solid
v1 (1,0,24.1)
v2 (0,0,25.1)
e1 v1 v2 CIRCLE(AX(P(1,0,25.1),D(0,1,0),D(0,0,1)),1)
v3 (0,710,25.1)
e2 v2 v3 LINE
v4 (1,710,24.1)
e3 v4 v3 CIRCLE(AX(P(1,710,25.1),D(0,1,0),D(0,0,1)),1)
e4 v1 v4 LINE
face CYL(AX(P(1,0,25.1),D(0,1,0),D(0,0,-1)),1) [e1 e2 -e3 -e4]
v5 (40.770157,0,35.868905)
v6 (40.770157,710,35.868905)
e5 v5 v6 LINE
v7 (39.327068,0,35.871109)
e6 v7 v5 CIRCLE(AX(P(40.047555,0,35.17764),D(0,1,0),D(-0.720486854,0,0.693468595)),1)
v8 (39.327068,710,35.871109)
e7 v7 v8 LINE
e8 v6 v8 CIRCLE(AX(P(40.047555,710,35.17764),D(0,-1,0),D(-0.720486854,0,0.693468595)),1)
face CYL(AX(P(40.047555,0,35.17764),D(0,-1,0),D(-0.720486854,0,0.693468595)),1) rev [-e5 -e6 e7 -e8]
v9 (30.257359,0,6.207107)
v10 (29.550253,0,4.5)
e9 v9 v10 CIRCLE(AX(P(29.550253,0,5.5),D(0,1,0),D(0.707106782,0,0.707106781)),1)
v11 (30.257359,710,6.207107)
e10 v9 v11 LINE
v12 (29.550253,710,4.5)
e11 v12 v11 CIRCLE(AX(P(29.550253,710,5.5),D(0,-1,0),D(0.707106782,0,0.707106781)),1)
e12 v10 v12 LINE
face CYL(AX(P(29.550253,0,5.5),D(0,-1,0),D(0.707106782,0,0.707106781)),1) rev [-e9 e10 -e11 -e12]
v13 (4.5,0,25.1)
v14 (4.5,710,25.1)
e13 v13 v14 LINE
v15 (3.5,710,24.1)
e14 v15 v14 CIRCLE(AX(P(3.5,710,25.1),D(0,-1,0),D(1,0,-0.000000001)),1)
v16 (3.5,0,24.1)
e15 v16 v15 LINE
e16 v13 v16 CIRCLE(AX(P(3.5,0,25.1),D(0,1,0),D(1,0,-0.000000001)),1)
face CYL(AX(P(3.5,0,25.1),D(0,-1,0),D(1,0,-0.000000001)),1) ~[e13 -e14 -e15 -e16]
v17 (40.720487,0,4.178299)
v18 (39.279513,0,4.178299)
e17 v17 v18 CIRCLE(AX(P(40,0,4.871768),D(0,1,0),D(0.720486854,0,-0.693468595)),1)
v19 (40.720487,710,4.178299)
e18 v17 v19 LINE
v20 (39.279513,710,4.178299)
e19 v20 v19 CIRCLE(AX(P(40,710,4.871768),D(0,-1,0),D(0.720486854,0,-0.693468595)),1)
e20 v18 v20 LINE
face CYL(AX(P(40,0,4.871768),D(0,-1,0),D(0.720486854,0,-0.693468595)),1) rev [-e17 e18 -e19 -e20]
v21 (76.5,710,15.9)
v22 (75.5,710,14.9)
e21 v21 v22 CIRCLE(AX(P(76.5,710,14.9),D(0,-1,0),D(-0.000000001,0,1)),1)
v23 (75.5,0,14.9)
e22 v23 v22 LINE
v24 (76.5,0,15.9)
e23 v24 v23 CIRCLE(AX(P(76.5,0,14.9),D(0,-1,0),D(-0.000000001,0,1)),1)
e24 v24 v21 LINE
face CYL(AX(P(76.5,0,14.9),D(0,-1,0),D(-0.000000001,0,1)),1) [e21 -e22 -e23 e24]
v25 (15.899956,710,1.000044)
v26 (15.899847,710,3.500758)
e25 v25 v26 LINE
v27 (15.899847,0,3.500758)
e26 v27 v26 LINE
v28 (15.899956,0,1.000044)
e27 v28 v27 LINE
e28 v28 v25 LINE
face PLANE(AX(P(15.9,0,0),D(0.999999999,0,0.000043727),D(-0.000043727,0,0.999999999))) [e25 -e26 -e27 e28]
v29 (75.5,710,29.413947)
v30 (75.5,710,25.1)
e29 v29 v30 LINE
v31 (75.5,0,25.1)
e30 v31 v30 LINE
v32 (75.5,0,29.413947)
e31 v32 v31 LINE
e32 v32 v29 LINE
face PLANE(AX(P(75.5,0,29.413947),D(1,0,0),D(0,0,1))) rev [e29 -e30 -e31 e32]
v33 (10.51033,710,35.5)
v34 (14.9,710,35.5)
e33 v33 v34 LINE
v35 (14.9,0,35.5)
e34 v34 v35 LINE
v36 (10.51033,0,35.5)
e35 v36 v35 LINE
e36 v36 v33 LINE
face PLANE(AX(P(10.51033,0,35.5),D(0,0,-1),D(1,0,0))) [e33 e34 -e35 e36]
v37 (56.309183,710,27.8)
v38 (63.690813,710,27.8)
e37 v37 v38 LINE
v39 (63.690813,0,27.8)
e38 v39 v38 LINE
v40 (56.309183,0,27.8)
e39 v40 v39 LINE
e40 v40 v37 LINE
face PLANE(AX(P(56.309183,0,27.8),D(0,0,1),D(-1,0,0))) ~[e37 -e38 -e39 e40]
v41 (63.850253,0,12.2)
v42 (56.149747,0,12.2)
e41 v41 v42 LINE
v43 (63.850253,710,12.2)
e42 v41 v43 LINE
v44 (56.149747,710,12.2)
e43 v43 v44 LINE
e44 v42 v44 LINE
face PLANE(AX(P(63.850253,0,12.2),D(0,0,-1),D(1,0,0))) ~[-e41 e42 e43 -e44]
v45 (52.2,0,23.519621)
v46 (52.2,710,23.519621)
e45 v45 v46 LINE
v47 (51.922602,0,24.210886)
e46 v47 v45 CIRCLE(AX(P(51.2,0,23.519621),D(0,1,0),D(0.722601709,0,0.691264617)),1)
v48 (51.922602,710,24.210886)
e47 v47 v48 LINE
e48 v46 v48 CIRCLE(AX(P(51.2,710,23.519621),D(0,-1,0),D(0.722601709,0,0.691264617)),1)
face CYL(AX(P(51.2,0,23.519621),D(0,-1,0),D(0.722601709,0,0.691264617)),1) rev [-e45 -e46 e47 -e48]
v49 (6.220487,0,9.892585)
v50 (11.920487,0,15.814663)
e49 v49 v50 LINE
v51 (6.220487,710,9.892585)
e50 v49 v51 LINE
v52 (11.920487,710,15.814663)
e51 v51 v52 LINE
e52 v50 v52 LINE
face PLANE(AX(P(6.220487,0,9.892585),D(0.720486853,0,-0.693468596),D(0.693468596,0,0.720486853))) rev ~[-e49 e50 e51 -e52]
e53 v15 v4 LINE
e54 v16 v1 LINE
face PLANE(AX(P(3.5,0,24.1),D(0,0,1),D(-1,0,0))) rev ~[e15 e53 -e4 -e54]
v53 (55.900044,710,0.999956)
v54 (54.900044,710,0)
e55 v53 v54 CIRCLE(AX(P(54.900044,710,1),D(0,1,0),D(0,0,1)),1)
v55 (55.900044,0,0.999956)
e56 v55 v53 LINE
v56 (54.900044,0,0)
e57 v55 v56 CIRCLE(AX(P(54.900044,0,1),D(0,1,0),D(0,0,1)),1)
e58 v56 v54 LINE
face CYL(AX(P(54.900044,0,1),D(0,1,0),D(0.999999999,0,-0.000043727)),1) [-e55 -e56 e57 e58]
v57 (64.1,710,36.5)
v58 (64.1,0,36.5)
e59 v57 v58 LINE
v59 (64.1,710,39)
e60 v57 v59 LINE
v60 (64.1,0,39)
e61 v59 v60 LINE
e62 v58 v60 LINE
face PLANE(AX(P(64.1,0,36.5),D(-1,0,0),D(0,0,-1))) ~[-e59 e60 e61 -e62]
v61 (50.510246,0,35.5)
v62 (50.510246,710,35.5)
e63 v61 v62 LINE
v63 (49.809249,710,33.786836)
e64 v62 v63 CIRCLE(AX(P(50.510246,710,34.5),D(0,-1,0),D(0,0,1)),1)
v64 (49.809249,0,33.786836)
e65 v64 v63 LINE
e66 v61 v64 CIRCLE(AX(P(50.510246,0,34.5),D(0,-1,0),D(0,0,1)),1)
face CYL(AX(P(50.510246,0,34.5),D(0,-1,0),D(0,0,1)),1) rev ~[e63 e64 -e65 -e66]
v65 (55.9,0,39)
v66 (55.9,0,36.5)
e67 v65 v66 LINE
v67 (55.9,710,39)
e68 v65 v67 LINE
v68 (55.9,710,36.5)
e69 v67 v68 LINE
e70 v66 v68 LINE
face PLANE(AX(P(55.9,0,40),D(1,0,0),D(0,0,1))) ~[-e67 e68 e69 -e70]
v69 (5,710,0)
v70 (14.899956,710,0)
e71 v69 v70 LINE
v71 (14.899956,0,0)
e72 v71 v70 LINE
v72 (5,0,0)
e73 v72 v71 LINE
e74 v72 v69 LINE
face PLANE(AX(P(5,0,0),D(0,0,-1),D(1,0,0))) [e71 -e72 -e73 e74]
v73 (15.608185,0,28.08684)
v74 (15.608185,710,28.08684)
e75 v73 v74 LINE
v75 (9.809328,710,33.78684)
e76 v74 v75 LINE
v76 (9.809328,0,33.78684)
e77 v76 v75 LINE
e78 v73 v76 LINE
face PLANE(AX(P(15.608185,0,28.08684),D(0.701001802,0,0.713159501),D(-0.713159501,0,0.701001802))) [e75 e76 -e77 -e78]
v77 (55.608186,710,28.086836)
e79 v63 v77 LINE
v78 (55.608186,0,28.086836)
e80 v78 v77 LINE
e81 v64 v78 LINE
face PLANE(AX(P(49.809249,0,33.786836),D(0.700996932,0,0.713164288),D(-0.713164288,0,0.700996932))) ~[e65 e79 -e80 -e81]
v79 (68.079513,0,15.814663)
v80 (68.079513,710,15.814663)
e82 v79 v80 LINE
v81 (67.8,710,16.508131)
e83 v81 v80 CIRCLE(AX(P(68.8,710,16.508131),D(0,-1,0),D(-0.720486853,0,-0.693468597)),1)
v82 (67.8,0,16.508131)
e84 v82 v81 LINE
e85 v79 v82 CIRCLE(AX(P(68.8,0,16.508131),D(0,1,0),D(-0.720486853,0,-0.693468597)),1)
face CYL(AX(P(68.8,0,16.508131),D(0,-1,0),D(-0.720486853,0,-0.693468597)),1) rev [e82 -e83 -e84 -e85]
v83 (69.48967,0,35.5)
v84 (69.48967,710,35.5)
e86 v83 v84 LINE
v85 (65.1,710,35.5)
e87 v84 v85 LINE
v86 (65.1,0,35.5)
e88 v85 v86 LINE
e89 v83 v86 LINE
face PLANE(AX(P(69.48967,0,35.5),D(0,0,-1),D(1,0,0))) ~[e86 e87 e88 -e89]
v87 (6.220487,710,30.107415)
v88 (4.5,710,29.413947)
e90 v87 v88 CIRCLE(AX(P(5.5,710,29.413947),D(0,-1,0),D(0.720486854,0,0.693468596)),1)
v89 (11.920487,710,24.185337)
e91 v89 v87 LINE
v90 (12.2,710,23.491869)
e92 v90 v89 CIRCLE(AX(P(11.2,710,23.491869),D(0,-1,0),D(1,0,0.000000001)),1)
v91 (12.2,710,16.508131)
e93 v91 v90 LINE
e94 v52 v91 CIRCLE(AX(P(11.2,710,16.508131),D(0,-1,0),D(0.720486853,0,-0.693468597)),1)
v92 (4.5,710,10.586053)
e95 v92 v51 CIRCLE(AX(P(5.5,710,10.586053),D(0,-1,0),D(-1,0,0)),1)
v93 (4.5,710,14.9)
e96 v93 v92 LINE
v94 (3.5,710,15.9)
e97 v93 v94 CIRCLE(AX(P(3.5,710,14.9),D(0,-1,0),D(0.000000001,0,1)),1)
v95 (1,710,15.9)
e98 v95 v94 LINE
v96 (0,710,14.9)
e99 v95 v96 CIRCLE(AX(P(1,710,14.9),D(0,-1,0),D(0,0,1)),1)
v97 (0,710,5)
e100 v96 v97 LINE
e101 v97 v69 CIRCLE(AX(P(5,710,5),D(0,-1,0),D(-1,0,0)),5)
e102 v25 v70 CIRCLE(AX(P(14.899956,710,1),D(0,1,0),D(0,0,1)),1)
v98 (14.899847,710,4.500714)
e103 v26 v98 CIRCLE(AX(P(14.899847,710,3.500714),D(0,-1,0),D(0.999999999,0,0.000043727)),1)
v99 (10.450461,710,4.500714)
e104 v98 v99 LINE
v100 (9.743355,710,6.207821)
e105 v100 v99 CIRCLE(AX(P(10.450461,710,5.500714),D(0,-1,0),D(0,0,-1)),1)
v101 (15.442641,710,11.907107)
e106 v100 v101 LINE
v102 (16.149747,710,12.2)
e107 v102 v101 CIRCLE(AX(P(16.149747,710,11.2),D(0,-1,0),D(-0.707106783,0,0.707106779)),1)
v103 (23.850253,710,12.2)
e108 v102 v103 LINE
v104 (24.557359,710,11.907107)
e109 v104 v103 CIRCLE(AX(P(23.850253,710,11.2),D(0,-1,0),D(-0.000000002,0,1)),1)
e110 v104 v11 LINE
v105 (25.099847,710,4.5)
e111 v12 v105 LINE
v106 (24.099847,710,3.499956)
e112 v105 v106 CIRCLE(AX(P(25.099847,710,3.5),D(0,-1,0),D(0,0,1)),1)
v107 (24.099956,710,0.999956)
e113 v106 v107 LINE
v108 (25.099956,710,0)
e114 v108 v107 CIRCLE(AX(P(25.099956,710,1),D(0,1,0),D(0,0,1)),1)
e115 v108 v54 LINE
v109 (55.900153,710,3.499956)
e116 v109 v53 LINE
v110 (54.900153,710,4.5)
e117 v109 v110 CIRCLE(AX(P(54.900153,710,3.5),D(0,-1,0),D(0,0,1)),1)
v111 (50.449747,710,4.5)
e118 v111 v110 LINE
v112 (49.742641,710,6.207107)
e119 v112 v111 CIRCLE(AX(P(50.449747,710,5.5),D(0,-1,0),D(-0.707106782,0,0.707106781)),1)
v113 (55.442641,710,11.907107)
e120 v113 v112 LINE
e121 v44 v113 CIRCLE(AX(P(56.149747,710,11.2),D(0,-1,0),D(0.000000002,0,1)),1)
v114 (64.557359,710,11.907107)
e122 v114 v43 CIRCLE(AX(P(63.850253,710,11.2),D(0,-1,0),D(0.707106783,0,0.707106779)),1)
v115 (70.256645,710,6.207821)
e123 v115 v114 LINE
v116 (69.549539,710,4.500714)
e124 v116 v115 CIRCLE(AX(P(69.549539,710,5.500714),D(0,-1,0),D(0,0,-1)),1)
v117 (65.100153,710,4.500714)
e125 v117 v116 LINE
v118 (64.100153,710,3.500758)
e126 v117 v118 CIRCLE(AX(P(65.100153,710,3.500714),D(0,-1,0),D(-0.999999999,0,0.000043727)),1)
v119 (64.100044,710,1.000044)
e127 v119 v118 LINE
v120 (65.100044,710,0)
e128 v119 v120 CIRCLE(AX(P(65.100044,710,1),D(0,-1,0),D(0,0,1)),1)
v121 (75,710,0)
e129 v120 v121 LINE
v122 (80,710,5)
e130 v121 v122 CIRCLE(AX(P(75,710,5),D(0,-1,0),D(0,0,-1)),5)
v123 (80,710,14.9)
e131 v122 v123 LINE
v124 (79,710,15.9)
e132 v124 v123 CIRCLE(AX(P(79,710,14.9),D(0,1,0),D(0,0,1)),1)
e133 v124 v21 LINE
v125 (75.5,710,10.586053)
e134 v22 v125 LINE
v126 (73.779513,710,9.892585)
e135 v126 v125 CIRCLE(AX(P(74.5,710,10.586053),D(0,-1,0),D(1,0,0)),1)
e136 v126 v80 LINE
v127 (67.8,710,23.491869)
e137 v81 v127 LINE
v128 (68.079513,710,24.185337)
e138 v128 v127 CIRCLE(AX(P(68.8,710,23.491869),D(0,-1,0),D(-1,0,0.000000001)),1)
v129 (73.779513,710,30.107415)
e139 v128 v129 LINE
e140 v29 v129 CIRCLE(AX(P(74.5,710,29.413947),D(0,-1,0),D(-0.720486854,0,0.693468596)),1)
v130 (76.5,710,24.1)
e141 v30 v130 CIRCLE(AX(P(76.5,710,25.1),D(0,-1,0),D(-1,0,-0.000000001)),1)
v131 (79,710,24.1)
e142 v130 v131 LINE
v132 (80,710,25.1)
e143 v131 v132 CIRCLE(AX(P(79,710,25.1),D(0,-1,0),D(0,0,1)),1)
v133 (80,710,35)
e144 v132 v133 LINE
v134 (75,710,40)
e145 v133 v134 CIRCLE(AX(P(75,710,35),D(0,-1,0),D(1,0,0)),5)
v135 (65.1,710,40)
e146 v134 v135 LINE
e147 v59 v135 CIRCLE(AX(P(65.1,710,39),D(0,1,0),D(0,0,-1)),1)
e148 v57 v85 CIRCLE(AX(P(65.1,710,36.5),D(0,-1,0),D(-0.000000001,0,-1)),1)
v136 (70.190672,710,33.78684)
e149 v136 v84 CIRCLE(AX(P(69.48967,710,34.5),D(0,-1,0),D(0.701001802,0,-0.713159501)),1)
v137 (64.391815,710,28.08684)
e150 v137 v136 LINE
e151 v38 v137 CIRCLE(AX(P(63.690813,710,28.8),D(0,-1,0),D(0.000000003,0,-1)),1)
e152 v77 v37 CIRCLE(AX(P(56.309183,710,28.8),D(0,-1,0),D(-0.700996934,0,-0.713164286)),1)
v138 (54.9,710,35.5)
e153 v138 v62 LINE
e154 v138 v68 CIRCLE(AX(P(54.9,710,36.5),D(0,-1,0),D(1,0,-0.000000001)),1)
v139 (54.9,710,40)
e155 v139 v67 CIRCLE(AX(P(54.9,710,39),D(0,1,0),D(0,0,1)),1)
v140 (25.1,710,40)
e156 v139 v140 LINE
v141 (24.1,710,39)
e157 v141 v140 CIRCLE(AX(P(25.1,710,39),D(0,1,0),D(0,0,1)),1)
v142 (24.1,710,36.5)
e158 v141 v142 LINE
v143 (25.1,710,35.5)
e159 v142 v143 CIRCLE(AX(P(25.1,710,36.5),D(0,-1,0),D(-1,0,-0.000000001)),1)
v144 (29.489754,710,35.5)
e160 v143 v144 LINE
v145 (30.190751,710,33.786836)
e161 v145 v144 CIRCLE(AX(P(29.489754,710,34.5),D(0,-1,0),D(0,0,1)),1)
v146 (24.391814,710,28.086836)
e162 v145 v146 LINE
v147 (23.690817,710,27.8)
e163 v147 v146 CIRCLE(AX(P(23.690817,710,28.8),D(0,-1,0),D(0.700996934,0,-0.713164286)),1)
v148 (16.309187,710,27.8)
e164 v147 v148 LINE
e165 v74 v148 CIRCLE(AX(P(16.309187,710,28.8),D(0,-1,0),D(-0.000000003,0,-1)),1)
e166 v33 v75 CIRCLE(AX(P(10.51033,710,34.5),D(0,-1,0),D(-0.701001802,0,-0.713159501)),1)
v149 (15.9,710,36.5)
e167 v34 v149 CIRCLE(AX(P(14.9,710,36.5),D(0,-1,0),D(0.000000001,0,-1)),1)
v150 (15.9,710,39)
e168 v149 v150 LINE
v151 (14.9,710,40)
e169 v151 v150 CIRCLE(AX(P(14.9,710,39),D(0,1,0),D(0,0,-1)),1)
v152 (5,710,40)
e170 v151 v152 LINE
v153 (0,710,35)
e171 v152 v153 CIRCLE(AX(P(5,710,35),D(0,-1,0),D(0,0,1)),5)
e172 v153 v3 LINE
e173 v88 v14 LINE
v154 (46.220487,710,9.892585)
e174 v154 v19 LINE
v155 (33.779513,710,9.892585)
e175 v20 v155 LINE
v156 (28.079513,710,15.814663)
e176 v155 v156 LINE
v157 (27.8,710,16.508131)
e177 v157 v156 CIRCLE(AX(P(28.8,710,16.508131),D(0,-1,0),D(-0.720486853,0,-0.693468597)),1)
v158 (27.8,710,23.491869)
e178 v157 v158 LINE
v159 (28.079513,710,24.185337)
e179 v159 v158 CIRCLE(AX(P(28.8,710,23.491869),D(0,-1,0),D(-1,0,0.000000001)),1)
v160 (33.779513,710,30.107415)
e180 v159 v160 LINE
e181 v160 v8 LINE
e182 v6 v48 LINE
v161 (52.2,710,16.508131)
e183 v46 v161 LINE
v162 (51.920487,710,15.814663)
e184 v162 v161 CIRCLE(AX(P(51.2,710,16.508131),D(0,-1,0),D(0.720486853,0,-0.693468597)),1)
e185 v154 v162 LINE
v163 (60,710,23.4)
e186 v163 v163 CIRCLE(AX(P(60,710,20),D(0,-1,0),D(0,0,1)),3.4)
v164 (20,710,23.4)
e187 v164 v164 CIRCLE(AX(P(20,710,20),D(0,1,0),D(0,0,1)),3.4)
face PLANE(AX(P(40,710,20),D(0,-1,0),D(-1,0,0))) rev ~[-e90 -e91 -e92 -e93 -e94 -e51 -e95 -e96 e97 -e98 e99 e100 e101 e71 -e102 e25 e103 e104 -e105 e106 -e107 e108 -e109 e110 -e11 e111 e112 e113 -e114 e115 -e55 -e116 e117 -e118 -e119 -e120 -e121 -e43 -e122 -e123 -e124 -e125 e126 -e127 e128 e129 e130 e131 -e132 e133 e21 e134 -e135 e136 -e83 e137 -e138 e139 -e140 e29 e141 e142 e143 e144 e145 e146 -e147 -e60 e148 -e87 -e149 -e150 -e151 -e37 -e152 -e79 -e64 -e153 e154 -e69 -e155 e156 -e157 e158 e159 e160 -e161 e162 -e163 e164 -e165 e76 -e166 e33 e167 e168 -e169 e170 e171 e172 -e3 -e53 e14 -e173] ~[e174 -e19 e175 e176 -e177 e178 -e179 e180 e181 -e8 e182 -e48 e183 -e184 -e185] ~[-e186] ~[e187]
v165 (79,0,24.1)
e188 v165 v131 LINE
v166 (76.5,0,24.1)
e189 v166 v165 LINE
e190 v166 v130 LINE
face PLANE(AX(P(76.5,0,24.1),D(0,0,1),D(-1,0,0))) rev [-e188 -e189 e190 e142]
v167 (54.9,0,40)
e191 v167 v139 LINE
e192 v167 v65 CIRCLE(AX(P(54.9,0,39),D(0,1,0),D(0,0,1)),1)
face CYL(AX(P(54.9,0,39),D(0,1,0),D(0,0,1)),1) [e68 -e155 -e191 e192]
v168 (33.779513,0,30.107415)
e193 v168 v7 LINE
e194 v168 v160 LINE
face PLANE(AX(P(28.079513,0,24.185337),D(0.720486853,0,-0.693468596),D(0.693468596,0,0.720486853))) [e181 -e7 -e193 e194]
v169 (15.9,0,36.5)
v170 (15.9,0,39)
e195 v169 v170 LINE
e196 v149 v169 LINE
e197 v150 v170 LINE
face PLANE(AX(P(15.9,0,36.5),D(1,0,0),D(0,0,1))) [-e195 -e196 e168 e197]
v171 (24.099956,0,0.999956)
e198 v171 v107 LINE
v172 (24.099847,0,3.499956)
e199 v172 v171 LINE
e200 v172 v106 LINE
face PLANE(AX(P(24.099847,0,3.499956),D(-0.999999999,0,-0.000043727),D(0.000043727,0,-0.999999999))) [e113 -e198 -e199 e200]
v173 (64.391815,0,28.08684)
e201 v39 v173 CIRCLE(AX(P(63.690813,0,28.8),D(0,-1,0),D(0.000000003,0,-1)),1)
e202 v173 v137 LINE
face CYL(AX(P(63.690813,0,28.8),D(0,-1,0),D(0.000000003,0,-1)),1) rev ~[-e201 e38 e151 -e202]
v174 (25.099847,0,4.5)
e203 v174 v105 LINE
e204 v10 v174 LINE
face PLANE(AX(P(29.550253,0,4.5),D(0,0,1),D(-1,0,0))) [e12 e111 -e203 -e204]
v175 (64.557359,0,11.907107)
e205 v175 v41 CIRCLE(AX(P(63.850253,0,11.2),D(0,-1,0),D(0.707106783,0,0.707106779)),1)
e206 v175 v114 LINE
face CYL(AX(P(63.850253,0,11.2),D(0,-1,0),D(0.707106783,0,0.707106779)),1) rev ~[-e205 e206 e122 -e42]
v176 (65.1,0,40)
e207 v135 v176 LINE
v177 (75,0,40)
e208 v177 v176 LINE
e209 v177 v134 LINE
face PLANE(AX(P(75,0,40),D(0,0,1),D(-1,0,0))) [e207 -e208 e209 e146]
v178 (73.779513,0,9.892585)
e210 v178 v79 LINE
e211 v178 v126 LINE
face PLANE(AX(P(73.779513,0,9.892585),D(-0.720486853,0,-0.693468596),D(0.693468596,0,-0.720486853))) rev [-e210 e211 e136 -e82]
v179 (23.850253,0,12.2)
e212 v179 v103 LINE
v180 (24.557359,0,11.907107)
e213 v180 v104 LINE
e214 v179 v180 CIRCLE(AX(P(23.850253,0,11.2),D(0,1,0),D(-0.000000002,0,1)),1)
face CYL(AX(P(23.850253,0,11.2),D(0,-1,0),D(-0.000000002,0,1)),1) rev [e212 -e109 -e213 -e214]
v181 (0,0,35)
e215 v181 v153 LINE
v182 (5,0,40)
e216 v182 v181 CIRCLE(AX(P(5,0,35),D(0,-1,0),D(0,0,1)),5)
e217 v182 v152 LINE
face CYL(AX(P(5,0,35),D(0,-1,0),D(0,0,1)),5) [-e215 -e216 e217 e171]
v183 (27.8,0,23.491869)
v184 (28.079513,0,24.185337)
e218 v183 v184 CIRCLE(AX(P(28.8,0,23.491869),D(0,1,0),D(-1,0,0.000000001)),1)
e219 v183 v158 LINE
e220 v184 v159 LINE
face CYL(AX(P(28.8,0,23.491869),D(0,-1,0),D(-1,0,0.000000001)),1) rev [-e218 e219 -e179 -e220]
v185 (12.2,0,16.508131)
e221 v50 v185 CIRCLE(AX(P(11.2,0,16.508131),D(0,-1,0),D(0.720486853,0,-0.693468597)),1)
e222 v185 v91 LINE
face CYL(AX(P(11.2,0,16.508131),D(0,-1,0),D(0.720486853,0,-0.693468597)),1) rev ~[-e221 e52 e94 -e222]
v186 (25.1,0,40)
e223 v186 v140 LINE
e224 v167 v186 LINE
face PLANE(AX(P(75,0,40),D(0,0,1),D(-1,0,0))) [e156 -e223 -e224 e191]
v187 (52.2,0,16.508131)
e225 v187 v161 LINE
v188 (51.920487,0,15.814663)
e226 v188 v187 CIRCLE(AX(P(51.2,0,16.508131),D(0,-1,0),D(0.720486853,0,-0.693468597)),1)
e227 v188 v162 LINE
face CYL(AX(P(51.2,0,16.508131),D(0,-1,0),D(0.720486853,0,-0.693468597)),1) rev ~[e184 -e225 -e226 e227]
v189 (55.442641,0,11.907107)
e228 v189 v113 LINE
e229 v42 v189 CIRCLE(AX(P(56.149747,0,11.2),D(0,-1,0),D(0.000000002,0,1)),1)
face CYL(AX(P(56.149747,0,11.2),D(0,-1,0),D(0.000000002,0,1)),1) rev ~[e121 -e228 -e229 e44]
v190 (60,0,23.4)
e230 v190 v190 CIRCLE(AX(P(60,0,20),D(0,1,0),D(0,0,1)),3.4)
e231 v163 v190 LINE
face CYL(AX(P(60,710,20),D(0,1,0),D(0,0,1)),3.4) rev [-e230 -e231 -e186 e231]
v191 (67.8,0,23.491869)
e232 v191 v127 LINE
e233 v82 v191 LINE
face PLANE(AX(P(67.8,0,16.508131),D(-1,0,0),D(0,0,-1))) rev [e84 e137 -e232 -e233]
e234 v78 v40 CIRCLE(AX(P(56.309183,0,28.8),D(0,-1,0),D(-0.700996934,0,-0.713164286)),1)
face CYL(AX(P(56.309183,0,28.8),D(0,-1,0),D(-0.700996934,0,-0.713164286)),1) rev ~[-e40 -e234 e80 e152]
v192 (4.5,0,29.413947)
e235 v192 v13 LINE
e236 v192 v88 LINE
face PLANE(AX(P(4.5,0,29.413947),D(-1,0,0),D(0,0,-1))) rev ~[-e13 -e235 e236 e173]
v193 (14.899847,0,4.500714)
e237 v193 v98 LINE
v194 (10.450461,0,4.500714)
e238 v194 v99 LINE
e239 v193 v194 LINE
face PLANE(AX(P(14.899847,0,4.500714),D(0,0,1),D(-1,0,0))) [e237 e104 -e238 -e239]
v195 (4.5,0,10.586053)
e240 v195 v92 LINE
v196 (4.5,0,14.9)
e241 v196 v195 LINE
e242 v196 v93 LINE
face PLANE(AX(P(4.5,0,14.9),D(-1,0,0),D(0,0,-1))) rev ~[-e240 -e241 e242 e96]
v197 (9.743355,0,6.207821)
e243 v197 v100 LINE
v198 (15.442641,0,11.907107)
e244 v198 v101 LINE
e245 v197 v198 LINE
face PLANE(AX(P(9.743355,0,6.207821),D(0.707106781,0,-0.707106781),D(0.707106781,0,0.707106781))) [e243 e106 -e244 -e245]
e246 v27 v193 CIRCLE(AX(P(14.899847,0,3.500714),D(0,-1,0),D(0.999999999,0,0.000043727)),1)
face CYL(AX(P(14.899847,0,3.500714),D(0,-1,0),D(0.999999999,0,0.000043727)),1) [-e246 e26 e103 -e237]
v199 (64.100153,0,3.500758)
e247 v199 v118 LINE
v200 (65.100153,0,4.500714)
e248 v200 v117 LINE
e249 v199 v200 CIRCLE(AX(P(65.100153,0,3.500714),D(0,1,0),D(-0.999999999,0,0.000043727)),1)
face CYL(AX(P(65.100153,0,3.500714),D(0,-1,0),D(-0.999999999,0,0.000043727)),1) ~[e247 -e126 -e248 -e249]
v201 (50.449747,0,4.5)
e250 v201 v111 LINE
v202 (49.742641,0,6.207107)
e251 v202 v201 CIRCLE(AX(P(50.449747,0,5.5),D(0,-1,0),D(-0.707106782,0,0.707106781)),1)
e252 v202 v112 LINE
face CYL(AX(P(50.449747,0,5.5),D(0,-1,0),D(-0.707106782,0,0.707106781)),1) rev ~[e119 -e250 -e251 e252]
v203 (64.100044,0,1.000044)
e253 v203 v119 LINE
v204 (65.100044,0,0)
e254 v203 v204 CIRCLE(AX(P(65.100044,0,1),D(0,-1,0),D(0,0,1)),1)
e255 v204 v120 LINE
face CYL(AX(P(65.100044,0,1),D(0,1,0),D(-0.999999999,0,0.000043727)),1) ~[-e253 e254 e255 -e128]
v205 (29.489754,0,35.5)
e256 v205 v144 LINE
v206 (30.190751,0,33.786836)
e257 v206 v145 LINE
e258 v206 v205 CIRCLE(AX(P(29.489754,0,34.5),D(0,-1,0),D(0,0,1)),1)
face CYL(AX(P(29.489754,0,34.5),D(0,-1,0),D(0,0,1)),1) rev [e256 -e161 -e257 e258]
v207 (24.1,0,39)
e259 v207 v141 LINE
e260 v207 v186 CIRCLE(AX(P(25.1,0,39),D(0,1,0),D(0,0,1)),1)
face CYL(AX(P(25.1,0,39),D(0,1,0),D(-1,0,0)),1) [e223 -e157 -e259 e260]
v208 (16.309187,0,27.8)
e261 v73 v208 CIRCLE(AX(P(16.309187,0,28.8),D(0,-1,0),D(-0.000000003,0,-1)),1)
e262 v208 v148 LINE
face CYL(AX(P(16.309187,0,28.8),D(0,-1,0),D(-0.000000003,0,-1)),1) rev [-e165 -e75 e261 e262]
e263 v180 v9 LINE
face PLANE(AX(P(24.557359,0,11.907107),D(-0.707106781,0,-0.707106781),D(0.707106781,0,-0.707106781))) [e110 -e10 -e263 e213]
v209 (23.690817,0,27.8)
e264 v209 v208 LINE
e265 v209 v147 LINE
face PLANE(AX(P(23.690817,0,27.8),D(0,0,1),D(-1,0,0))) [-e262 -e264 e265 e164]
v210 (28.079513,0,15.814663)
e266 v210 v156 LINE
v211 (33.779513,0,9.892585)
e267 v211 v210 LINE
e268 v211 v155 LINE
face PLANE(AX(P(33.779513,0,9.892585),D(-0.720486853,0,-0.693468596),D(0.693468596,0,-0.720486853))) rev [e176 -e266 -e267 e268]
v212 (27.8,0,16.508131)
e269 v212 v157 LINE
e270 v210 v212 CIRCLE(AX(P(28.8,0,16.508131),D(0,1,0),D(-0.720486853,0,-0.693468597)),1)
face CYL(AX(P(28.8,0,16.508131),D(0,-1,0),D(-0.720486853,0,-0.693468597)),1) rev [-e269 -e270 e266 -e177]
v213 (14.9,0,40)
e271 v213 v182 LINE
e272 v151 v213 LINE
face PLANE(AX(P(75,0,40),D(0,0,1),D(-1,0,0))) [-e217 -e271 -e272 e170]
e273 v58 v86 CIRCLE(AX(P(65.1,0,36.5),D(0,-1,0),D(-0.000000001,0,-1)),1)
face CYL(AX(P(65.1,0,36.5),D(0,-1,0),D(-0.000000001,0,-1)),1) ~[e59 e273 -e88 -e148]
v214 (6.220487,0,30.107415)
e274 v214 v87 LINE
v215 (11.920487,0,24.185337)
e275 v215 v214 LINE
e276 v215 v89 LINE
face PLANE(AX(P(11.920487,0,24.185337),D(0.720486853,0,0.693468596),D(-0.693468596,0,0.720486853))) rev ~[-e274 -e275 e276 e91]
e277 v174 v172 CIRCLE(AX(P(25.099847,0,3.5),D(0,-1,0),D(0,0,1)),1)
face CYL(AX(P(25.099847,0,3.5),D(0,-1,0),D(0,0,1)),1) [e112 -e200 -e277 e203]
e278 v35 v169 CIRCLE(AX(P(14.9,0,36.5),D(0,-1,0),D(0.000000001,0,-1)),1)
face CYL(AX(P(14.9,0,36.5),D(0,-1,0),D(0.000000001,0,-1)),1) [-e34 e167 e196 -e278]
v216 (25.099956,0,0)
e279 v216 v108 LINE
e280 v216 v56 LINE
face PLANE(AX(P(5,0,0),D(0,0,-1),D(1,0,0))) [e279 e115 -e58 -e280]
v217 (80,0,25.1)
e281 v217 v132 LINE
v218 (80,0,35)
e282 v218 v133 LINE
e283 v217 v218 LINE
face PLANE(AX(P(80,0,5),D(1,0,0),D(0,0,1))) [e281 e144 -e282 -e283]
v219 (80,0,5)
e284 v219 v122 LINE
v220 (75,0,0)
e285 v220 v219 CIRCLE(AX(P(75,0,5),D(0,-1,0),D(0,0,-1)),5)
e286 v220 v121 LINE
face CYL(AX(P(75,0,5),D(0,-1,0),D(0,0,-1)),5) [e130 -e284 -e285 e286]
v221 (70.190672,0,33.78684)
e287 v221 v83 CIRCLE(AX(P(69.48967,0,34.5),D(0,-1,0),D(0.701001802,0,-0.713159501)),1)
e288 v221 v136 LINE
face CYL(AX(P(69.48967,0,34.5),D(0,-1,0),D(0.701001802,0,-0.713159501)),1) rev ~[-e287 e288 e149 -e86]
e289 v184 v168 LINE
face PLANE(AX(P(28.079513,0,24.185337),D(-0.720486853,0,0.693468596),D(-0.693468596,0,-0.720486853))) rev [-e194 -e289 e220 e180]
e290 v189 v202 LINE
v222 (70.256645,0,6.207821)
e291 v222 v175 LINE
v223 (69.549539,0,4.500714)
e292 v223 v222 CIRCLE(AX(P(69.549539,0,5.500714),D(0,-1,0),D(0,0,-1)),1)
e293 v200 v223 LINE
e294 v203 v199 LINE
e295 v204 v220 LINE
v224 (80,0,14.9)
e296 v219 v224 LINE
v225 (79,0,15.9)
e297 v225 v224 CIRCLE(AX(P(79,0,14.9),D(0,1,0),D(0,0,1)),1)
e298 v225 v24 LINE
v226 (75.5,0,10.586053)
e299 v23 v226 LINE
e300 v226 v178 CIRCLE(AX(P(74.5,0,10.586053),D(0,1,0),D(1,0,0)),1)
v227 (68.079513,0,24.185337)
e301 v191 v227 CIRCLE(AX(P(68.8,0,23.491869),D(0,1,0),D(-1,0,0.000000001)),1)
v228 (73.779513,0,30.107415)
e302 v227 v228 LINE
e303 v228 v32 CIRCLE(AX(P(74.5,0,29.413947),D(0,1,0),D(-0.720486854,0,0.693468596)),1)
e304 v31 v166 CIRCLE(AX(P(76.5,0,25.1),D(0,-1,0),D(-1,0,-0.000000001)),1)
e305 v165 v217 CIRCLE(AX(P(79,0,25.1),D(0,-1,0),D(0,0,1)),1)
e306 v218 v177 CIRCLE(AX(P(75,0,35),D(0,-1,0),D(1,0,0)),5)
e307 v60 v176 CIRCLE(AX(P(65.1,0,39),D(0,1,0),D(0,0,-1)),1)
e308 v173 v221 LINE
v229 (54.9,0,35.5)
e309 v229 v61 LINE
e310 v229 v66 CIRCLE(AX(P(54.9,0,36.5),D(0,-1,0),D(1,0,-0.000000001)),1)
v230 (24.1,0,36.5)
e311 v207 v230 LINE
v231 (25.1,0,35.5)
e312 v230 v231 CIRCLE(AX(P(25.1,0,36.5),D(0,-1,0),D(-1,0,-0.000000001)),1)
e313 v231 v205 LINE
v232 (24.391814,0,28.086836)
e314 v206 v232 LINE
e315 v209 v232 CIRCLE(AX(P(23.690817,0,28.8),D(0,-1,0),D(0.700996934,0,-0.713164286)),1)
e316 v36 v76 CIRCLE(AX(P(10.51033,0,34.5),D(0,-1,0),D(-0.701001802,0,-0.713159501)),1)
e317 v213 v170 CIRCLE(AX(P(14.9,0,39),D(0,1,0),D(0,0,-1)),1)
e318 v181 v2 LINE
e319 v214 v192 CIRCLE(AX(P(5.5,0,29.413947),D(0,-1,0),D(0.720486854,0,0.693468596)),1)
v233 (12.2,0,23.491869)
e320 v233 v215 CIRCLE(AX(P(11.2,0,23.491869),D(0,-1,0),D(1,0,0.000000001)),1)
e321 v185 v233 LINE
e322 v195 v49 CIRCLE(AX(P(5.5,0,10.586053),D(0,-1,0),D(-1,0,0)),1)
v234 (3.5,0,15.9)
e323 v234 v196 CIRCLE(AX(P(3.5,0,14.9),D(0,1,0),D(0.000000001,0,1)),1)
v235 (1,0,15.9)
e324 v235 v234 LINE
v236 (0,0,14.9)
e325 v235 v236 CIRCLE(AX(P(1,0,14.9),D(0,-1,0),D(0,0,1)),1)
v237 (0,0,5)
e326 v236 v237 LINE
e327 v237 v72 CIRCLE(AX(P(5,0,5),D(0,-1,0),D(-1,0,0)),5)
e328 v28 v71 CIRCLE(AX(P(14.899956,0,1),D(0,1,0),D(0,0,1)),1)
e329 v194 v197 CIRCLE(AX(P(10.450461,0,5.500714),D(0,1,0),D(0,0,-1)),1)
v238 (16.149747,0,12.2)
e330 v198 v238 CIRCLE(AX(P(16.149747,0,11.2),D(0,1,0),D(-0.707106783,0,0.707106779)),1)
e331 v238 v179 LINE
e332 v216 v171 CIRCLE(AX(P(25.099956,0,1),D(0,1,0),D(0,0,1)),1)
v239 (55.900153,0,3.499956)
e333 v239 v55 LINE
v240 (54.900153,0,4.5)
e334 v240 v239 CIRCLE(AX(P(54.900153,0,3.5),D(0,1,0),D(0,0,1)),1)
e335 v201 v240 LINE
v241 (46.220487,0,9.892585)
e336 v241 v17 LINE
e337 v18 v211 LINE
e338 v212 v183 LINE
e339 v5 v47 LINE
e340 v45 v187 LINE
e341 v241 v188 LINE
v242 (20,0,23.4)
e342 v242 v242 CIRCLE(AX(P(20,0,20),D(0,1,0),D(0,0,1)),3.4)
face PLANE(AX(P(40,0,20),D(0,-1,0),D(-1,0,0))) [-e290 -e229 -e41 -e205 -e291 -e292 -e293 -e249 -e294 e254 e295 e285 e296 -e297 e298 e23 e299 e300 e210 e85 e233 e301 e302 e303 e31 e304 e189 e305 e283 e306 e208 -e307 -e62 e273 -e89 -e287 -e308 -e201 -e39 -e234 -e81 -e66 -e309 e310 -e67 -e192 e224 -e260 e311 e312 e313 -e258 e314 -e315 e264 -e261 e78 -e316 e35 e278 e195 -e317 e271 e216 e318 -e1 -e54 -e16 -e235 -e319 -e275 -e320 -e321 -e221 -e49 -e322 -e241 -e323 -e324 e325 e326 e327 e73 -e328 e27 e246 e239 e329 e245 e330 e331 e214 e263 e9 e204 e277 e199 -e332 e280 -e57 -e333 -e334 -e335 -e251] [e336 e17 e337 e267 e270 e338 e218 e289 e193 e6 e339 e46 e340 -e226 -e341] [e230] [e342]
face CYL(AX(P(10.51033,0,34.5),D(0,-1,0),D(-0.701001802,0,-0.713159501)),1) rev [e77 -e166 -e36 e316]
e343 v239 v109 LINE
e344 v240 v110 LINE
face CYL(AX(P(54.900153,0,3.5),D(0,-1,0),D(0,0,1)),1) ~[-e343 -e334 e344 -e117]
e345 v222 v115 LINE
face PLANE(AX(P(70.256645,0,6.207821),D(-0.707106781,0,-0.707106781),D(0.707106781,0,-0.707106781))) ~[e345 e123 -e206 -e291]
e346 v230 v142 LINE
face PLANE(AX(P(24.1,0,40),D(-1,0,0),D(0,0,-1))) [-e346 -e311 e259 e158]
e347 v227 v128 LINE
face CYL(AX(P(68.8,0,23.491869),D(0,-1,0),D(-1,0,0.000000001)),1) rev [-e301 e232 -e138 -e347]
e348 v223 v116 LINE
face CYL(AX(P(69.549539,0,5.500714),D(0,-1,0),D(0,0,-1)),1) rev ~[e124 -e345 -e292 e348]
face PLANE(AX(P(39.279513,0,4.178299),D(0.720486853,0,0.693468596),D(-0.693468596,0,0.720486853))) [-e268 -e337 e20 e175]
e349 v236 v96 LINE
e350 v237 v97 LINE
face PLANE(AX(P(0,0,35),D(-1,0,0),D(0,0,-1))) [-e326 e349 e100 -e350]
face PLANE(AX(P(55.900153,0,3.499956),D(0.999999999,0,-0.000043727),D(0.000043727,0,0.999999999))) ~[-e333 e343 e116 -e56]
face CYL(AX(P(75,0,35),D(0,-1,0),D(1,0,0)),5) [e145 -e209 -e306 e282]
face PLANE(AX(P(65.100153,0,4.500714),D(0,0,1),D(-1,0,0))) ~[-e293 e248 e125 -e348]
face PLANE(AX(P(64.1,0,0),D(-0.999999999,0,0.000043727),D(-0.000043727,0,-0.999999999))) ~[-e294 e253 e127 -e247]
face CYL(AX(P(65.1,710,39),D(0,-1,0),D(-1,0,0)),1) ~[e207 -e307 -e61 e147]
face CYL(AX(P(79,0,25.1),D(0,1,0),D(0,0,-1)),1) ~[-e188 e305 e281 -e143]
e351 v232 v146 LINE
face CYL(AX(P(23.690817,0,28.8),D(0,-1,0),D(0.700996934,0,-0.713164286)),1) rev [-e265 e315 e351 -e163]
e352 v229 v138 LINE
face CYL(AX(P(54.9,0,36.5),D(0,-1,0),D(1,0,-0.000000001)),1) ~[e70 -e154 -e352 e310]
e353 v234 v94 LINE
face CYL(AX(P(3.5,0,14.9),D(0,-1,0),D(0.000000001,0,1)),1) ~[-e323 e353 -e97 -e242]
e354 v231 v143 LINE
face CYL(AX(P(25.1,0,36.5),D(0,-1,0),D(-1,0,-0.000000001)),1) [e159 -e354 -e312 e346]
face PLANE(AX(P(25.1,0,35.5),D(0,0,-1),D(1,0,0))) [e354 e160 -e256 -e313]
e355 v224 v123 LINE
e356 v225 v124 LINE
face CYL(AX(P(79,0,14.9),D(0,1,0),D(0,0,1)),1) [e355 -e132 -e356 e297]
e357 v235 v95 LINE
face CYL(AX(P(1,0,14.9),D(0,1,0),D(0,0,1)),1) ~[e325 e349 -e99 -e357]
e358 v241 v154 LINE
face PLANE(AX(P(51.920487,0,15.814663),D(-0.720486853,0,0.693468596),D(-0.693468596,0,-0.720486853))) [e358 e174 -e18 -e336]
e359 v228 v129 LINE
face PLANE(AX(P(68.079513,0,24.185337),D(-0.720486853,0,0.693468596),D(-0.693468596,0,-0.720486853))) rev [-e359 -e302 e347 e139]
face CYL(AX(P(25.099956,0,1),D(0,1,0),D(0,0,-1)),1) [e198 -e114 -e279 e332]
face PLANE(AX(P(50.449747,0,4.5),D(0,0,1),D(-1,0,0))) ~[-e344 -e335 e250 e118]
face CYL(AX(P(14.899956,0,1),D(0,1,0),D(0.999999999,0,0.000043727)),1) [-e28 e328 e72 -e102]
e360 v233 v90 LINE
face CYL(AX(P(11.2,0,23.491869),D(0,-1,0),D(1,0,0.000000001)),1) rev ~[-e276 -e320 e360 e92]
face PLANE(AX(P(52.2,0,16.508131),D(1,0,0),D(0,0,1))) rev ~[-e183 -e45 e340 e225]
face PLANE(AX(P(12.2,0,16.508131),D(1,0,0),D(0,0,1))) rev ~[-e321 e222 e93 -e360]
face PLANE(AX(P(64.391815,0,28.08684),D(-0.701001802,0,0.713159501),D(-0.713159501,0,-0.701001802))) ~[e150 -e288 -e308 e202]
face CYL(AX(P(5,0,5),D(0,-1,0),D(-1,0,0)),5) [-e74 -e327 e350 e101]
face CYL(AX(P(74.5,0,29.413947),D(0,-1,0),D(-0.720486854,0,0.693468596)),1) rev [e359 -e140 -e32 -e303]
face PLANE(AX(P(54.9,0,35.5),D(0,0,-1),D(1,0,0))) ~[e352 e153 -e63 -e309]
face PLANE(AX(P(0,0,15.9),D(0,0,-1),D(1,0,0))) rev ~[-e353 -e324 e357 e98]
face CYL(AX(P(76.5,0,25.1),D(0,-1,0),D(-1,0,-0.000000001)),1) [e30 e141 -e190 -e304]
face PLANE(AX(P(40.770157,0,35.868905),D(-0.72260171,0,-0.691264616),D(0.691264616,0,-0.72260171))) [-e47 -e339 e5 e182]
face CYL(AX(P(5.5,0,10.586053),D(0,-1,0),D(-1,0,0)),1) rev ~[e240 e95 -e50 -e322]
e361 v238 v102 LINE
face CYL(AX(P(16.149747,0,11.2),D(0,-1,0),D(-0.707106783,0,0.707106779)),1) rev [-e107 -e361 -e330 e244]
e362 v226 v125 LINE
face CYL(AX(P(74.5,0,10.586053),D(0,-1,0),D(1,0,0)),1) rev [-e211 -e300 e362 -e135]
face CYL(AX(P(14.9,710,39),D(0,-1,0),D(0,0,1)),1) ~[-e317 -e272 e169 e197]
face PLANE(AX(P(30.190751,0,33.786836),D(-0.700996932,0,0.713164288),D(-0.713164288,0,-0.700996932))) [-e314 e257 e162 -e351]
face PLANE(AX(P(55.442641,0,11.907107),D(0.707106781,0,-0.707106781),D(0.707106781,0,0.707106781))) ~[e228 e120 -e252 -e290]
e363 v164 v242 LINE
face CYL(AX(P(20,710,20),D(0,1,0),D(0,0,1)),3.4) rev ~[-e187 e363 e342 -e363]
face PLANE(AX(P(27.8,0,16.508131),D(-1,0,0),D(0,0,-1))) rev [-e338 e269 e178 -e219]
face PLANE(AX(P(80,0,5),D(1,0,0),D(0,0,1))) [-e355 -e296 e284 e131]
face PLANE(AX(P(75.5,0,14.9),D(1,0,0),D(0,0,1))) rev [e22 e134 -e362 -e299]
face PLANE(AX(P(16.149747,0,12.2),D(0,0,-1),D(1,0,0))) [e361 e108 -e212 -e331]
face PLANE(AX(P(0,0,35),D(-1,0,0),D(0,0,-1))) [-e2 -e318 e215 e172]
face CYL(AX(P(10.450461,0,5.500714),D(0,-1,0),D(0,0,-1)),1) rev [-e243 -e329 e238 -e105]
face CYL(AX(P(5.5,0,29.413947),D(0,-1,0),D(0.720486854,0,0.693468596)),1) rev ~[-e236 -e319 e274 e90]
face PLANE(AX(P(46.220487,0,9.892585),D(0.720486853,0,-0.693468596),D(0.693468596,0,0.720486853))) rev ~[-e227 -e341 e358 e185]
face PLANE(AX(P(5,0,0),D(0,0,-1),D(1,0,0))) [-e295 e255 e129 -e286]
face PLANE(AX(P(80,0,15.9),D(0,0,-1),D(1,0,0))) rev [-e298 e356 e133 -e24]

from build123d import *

# Parameters (mm, degrees)
BOSS_EXTRUDE1_DEPTH   = 710
SKETCH3_R             = 3.4
CUT_EXTRUDE1_DEPTH    = 716.611626513
CUT_EXTRUDE2_DEPTH    = 716.611626513
FILLET1_R             = 1
FILLET2_R             = 1
FILLET3_R             = 1
CUT_EXTRUDE3_DEPTH    = 716.611626513
CUT_EXTRUDE4_DEPTH    = 716.611626513
FILLET4_R             = 1
FILLET5_R             = 1
FILLET6_R             = 1
FILLET7_R             = 1
FILLET8_R             = 1
FILLET9_R             = 1
FILLET10_R            = 1
FILLET11_R            = 1
MIRROR11_COPY_1_DEPTH = 716.611626513
MIRROR11_COPY_2_DEPTH = 716.611626513
CUT_EXTRUDE5_DEPTH    = 1000


with BuildPart() as part:
    # Sketch1 → Boss-Extrude1 (new body)
    with BuildSketch(Plane(origin=(0, 0, 0), x_dir=(1, 0, 0), z_dir=(0, 1, 0))):
        with BuildLine():
            Line((5, 0), (75, 0))
            ThreePointArc((75, 0), (78.535533906, -1.464466094), (80, -5))
            Line((80, -5), (80, -35))
            ThreePointArc((80, -35), (78.535533906, -38.535533906), (75, -40))
            Line((75, -40), (5, -40))
            ThreePointArc((5, -40), (1.464466094, -38.535533906), (0, -35))
            Line((0, -35), (0, -5))
            ThreePointArc((0, -5), (1.464466094, -1.464466094), (5, 0))
        make_face()
    extrude(amount=BOSS_EXTRUDE1_DEPTH)

    # Sketch3 → Cut-Extrude1 (cut, through all)
    with BuildSketch(Plane(origin=(0, 710, 0), x_dir=(1, 0, 0), z_dir=(0, 1, 0))):
        with Locations(Location((20, -20, 0), (0, 0, 270))):
            Circle(SKETCH3_R)
    cut_extrude1 = extrude(amount=-CUT_EXTRUDE1_DEPTH, mode=Mode.SUBTRACT)

    # Mirror3: Cut-Extrude1 across plane
    add(cut_extrude1.mirror(Plane(origin=(40, 0, 0), x_dir=(0, 0, 1), z_dir=(1, 0, 0))), mode=Mode.SUBTRACT)

    # Sketch7 → Cut-Extrude2 (cut, symmetric)
    with BuildSketch(Plane(origin=(0, 0, 0), x_dir=(-1, 0, 0), z_dir=(0, -1, 0))):
        with BuildLine():
            Line((-15.9, -40), (-24.1, -40))
            Line((-24.1, -40), (-24.1, -36.5))
            ThreePointArc((-24.1, -36.5), (-24.392893219, -35.792893219), (-25.1, -35.5))
            Line((-25.1, -35.5), (-29.489753594, -35.5))
            ThreePointArc((-29.489753594, -35.5), (-30.415270825, -34.8787055), (-30.190750526, -33.786835712))
            Line((-30.190750526, -33.786835712), (-24.391814382, -28.086835712))
            ThreePointArc((-24.391814382, -28.086835712), (-24.069522951, -27.874482769), (-23.69081745, -27.8))
            Line((-23.69081745, -27.8), (-16.309186536, -27.8))
            ThreePointArc((-16.309186536, -27.8), (-15.930477876, -27.874484063), (-15.608184734, -28.086840499))
            Line((-15.608184734, -28.086840499), (-9.809327805, -33.786840499))
            ThreePointArc((-9.809327805, -33.786840499), (-9.584813669, -34.87870866), (-10.510329607, -35.5))
            Line((-10.510329607, -35.5), (-14.9, -35.5))
            ThreePointArc((-14.9, -35.5), (-15.607106781, -35.792893219), (-15.9, -36.5))
            Line((-15.9, -36.5), (-15.9, -40))
        make_face()
    cut_extrude2 = extrude(amount=CUT_EXTRUDE2_DEPTH, both=True, mode=Mode.SUBTRACT)

    # Fillet1
    fillet1_edges = [part.edges().sort_by_distance(p)[0] for p in [
        (15.9, 355, 40),
        (24.1, 355, 40),
    ]]
    fillet(fillet1_edges, radius=FILLET1_R)

    # Mirror8: Cut-Extrude2 across plane
    add(cut_extrude2.mirror(Plane(origin=(40, 0, 0), x_dir=(0, 0, 1), z_dir=(1, 0, 0))), mode=Mode.SUBTRACT)

    # Fillet2
    fillet2_edges = [part.edges().sort_by_distance(p)[0] for p in [
        (55.9, 355, 40),
    ]]
    fillet(fillet2_edges, radius=FILLET2_R)

    # Fillet3
    fillet3_edges = [part.edges().sort_by_distance(p)[0] for p in [
        (64.1, 355, 40),
    ]]
    fillet(fillet3_edges, radius=FILLET3_R)

    # Sketch9 → Cut-Extrude3 (cut, through all)
    with BuildSketch(Plane(origin=(0, 0, 0), x_dir=(1, 0, 0), z_dir=(0, 1, 0))):
        with BuildLine():
            Line((14.899846923, -4.500713815), (10.450461284, -4.500713815))
            ThreePointArc((10.450461284, -4.500713815), (9.526581751, -5.118030383), (9.743354502, -6.207820596))
            Line((9.743354502, -6.207820596), (15.442640687, -11.907106781))
            ThreePointArc((15.442640687, -11.907106781), (15.767064036, -12.123879533), (16.149747468, -12.2))
            Line((16.149747468, -12.2), (23.850252532, -12.2))
            ThreePointArc((23.850252532, -12.2), (24.232935964, -12.123879533), (24.557359313, -11.907106781))
            Line((24.557359313, -11.907106781), (30.257359313, -6.207106781))
            ThreePointArc((30.257359313, -6.207106781), (30.474132064, -5.117316568), (29.550252532, -4.5))
            Line((29.550252532, -4.5), (25.099846964, -4.5))
            ThreePointArc((25.099846964, -4.5), (24.392724723, -4.207091321), (24.099846965, -3.499956273))
            Line((24.099846965, -3.499956273), (24.100000008, 0))
            Line((24.100000008, 0), (15.9, 0))
            Line((15.9, 0), (15.899846922, -3.500757542))
            ThreePointArc((15.899846922, -3.500757542), (15.606938244, -4.207836056), (14.899846923, -4.500713815))
        make_face()
    cut_extrude3 = extrude(amount=CUT_EXTRUDE3_DEPTH, mode=Mode.SUBTRACT)

    # Mirror9: Cut-Extrude3 across plane
    add(cut_extrude3.mirror(Plane(origin=(40, 0, 0), x_dir=(0, 0, 1), z_dir=(1, 0, 0))), mode=Mode.SUBTRACT)

    # Sketch10 → Cut-Extrude4 (cut, through all)
    with BuildSketch(Plane(origin=(0, 0, 0), x_dir=(1, 0, 0), z_dir=(0, 1, 0))):
        with BuildLine():
            Line((4.5, -14.9), (4.5, -10.58605332))
            ThreePointArc((4.5, -10.58605332), (5.126159695, -9.658560233), (6.220486853, -9.892584724))
            Line((6.220486853, -9.892584724), (11.920486853, -15.814662646))
            ThreePointArc((11.920486853, -15.814662646), (12.127493087, -16.134290938), (12.2, -16.508131242))
            Line((12.2, -16.508131242), (12.2, -23.491868758))
            ThreePointArc((12.2, -23.491868758), (12.127493087, -23.865709062), (11.920486853, -24.185337354))
            Line((11.920486853, -24.185337354), (6.220486853, -30.107415276))
            ThreePointArc((6.220486853, -30.107415276), (5.126159695, -30.341439767), (4.5, -29.41394668))
            Line((4.5, -29.41394668), (4.5, -25.1))
            ThreePointArc((4.5, -25.1), (4.207106781, -24.392893219), (3.5, -24.1))
            Line((3.5, -24.1), (0, -24.1))
            Line((0, -24.1), (0, -15.9))
            Line((0, -15.9), (3.5, -15.9))
            ThreePointArc((3.5, -15.9), (4.207106781, -15.607106781), (4.5, -14.9))
        make_face()
    cut_extrude4 = extrude(amount=CUT_EXTRUDE4_DEPTH, mode=Mode.SUBTRACT)

    # Fillet4
    fillet4_edges = [part.edges().sort_by_distance(p)[0] for p in [
        (24.100000008, 355, 0),
    ]]
    fillet(fillet4_edges, radius=FILLET4_R)

    # Fillet5
    fillet5_edges = [part.edges().sort_by_distance(p)[0] for p in [
        (64.1, 355, 0),
    ]]
    fillet(fillet5_edges, radius=FILLET5_R)

    # Fillet6
    fillet6_edges = [part.edges().sort_by_distance(p)[0] for p in [
        (55.899999992, 355, 0),
    ]]
    fillet(fillet6_edges, radius=FILLET6_R)

    # Fillet7
    fillet7_edges = [part.edges().sort_by_distance(p)[0] for p in [
        (15.9, 355, 0),
    ]]
    fillet(fillet7_edges, radius=FILLET7_R)

    # Fillet8
    fillet8_edges = [part.edges().sort_by_distance(p)[0] for p in [
        (0, 355, 24.1),
    ]]
    fillet(fillet8_edges, radius=FILLET8_R)

    # Fillet9
    fillet9_edges = [part.edges().sort_by_distance(p)[0] for p in [
        (0, 355, 15.9),
    ]]
    fillet(fillet9_edges, radius=FILLET9_R)

    # Mirror10: Cut-Extrude4 across plane
    add(cut_extrude4.mirror(Plane(origin=(40, 0, 0), x_dir=(0, 0, 1), z_dir=(1, 0, 0))), mode=Mode.SUBTRACT)

    # Fillet10
    fillet10_edges = [part.edges().sort_by_distance(p)[0] for p in [
        (80, 355, 15.9),
    ]]
    fillet(fillet10_edges, radius=FILLET10_R)

    # Fillet11
    fillet11_edges = [part.edges().sort_by_distance(p)[0] for p in [
        (80, 355, 24.1),
    ]]
    fillet(fillet11_edges, radius=FILLET11_R)

    # Mirror11 copy 1 sketch → Mirror11 copy 1 (cut, through all)
    with BuildSketch(Plane(origin=(40, 0, 0), x_dir=(1, 0, 0), z_dir=(0, 1, 0))):
        with BuildLine():
            Line((4.5, -14.9), (4.5, -10.58605332))
            ThreePointArc((4.5, -10.58605332), (5.126159695, -9.658560233), (6.220486853, -9.892584724))
            Line((6.220486853, -9.892584724), (11.920486853, -15.814662646))
            ThreePointArc((11.920486853, -15.814662646), (12.127493087, -16.134290938), (12.2, -16.508131242))
            Line((12.2, -16.508131242), (12.2, -23.491868758))
            ThreePointArc((12.2, -23.491868758), (12.127493087, -23.865709062), (11.920486853, -24.185337354))
            Line((11.920486853, -24.185337354), (6.220486853, -30.107415276))
            ThreePointArc((6.220486853, -30.107415276), (5.126159695, -30.341439767), (4.5, -29.41394668))
            Line((4.5, -29.41394668), (4.5, -25.1))
            ThreePointArc((4.5, -25.1), (4.207106781, -24.392893219), (3.5, -24.1))
            Line((3.5, -24.1), (0, -24.1))
            Line((0, -24.1), (0, -15.9))
            Line((0, -15.9), (3.5, -15.9))
            ThreePointArc((3.5, -15.9), (4.207106781, -15.607106781), (4.5, -14.9))
        make_face()
    extrude(amount=MIRROR11_COPY_1_DEPTH, mode=Mode.SUBTRACT)

    # Mirror11 copy 2 sketch → Mirror11 copy 2 (cut, through all)
    with BuildSketch(Plane(origin=(120, 0, 0), x_dir=(-1, 0, 0), z_dir=(0, 1, 0))):
        with BuildLine():
            Line((4.5, 14.9), (4.5, 10.58605332))
            ThreePointArc((4.5, 10.58605332), (5.126159695, 9.658560233), (6.220486853, 9.892584724))
            Line((6.220486853, 9.892584724), (11.920486853, 15.814662646))
            ThreePointArc((11.920486853, 15.814662646), (12.127493087, 16.134290938), (12.2, 16.508131242))
            Line((12.2, 16.508131242), (12.2, 23.491868758))
            ThreePointArc((12.2, 23.491868758), (12.127493087, 23.865709062), (11.920486853, 24.185337354))
            Line((11.920486853, 24.185337354), (6.220486853, 30.107415276))
            ThreePointArc((6.220486853, 30.107415276), (5.126159695, 30.341439767), (4.5, 29.41394668))
            Line((4.5, 29.41394668), (4.5, 25.1))
            ThreePointArc((4.5, 25.1), (4.207106781, 24.392893219), (3.5, 24.1))
            Line((3.5, 24.1), (0, 24.1))
            Line((0, 24.1), (0, 15.9))
            Line((0, 15.9), (3.5, 15.9))
            ThreePointArc((3.5, 15.9), (4.207106781, 15.607106781), (4.5, 14.9))
        make_face()
    extrude(amount=MIRROR11_COPY_2_DEPTH, mode=Mode.SUBTRACT)

    # Mirror12: Cut-Extrude4 across plane
    add(cut_extrude4.mirror(Plane.ZY.offset(-20)), mode=Mode.SUBTRACT)

    # Sketch12 → Cut-Extrude5 (cut)
    with BuildSketch(Plane(origin=(0, 0, 0), x_dir=(-1, 0, 0), z_dir=(0, -1, 0))):
        with BuildLine():
            Line((-28.079513147, -24.185337354), (-39.327067998, -35.871108628))
            ThreePointArc((-39.327067998, -35.871108628), (-40.049082116, -36.177638866), (-40.770156561, -35.868904648))
            Line((-40.770156561, -35.868904648), (-51.922601709, -24.210885791))
            ThreePointArc((-51.922601709, -24.210885791), (-52.128062958, -23.892044517), (-52.2, -23.519621175))
            Line((-52.2, -23.519621175), (-52.2, -16.508131242))
            ThreePointArc((-52.2, -16.508131242), (-52.127493087, -16.134290938), (-51.920486853, -15.814662646))
            Line((-51.920486853, -15.814662646), (-40.720486853, -4.17829901))
            ThreePointArc((-40.720486853, -4.17829901), (-40, -3.871767606), (-39.279513147, -4.17829901))
            Line((-39.279513147, -4.17829901), (-28.079513147, -15.814662646))
            ThreePointArc((-28.079513147, -15.814662646), (-27.872506913, -16.134290938), (-27.8, -16.508131242))
            Line((-27.8, -16.508131242), (-27.8, -23.491868758))
            ThreePointArc((-27.8, -23.491868758), (-27.872506913, -23.865709062), (-28.079513147, -24.185337354))
        make_face()
    extrude(amount=-CUT_EXTRUDE5_DEPTH, mode=Mode.SUBTRACT)


solid = part.part
